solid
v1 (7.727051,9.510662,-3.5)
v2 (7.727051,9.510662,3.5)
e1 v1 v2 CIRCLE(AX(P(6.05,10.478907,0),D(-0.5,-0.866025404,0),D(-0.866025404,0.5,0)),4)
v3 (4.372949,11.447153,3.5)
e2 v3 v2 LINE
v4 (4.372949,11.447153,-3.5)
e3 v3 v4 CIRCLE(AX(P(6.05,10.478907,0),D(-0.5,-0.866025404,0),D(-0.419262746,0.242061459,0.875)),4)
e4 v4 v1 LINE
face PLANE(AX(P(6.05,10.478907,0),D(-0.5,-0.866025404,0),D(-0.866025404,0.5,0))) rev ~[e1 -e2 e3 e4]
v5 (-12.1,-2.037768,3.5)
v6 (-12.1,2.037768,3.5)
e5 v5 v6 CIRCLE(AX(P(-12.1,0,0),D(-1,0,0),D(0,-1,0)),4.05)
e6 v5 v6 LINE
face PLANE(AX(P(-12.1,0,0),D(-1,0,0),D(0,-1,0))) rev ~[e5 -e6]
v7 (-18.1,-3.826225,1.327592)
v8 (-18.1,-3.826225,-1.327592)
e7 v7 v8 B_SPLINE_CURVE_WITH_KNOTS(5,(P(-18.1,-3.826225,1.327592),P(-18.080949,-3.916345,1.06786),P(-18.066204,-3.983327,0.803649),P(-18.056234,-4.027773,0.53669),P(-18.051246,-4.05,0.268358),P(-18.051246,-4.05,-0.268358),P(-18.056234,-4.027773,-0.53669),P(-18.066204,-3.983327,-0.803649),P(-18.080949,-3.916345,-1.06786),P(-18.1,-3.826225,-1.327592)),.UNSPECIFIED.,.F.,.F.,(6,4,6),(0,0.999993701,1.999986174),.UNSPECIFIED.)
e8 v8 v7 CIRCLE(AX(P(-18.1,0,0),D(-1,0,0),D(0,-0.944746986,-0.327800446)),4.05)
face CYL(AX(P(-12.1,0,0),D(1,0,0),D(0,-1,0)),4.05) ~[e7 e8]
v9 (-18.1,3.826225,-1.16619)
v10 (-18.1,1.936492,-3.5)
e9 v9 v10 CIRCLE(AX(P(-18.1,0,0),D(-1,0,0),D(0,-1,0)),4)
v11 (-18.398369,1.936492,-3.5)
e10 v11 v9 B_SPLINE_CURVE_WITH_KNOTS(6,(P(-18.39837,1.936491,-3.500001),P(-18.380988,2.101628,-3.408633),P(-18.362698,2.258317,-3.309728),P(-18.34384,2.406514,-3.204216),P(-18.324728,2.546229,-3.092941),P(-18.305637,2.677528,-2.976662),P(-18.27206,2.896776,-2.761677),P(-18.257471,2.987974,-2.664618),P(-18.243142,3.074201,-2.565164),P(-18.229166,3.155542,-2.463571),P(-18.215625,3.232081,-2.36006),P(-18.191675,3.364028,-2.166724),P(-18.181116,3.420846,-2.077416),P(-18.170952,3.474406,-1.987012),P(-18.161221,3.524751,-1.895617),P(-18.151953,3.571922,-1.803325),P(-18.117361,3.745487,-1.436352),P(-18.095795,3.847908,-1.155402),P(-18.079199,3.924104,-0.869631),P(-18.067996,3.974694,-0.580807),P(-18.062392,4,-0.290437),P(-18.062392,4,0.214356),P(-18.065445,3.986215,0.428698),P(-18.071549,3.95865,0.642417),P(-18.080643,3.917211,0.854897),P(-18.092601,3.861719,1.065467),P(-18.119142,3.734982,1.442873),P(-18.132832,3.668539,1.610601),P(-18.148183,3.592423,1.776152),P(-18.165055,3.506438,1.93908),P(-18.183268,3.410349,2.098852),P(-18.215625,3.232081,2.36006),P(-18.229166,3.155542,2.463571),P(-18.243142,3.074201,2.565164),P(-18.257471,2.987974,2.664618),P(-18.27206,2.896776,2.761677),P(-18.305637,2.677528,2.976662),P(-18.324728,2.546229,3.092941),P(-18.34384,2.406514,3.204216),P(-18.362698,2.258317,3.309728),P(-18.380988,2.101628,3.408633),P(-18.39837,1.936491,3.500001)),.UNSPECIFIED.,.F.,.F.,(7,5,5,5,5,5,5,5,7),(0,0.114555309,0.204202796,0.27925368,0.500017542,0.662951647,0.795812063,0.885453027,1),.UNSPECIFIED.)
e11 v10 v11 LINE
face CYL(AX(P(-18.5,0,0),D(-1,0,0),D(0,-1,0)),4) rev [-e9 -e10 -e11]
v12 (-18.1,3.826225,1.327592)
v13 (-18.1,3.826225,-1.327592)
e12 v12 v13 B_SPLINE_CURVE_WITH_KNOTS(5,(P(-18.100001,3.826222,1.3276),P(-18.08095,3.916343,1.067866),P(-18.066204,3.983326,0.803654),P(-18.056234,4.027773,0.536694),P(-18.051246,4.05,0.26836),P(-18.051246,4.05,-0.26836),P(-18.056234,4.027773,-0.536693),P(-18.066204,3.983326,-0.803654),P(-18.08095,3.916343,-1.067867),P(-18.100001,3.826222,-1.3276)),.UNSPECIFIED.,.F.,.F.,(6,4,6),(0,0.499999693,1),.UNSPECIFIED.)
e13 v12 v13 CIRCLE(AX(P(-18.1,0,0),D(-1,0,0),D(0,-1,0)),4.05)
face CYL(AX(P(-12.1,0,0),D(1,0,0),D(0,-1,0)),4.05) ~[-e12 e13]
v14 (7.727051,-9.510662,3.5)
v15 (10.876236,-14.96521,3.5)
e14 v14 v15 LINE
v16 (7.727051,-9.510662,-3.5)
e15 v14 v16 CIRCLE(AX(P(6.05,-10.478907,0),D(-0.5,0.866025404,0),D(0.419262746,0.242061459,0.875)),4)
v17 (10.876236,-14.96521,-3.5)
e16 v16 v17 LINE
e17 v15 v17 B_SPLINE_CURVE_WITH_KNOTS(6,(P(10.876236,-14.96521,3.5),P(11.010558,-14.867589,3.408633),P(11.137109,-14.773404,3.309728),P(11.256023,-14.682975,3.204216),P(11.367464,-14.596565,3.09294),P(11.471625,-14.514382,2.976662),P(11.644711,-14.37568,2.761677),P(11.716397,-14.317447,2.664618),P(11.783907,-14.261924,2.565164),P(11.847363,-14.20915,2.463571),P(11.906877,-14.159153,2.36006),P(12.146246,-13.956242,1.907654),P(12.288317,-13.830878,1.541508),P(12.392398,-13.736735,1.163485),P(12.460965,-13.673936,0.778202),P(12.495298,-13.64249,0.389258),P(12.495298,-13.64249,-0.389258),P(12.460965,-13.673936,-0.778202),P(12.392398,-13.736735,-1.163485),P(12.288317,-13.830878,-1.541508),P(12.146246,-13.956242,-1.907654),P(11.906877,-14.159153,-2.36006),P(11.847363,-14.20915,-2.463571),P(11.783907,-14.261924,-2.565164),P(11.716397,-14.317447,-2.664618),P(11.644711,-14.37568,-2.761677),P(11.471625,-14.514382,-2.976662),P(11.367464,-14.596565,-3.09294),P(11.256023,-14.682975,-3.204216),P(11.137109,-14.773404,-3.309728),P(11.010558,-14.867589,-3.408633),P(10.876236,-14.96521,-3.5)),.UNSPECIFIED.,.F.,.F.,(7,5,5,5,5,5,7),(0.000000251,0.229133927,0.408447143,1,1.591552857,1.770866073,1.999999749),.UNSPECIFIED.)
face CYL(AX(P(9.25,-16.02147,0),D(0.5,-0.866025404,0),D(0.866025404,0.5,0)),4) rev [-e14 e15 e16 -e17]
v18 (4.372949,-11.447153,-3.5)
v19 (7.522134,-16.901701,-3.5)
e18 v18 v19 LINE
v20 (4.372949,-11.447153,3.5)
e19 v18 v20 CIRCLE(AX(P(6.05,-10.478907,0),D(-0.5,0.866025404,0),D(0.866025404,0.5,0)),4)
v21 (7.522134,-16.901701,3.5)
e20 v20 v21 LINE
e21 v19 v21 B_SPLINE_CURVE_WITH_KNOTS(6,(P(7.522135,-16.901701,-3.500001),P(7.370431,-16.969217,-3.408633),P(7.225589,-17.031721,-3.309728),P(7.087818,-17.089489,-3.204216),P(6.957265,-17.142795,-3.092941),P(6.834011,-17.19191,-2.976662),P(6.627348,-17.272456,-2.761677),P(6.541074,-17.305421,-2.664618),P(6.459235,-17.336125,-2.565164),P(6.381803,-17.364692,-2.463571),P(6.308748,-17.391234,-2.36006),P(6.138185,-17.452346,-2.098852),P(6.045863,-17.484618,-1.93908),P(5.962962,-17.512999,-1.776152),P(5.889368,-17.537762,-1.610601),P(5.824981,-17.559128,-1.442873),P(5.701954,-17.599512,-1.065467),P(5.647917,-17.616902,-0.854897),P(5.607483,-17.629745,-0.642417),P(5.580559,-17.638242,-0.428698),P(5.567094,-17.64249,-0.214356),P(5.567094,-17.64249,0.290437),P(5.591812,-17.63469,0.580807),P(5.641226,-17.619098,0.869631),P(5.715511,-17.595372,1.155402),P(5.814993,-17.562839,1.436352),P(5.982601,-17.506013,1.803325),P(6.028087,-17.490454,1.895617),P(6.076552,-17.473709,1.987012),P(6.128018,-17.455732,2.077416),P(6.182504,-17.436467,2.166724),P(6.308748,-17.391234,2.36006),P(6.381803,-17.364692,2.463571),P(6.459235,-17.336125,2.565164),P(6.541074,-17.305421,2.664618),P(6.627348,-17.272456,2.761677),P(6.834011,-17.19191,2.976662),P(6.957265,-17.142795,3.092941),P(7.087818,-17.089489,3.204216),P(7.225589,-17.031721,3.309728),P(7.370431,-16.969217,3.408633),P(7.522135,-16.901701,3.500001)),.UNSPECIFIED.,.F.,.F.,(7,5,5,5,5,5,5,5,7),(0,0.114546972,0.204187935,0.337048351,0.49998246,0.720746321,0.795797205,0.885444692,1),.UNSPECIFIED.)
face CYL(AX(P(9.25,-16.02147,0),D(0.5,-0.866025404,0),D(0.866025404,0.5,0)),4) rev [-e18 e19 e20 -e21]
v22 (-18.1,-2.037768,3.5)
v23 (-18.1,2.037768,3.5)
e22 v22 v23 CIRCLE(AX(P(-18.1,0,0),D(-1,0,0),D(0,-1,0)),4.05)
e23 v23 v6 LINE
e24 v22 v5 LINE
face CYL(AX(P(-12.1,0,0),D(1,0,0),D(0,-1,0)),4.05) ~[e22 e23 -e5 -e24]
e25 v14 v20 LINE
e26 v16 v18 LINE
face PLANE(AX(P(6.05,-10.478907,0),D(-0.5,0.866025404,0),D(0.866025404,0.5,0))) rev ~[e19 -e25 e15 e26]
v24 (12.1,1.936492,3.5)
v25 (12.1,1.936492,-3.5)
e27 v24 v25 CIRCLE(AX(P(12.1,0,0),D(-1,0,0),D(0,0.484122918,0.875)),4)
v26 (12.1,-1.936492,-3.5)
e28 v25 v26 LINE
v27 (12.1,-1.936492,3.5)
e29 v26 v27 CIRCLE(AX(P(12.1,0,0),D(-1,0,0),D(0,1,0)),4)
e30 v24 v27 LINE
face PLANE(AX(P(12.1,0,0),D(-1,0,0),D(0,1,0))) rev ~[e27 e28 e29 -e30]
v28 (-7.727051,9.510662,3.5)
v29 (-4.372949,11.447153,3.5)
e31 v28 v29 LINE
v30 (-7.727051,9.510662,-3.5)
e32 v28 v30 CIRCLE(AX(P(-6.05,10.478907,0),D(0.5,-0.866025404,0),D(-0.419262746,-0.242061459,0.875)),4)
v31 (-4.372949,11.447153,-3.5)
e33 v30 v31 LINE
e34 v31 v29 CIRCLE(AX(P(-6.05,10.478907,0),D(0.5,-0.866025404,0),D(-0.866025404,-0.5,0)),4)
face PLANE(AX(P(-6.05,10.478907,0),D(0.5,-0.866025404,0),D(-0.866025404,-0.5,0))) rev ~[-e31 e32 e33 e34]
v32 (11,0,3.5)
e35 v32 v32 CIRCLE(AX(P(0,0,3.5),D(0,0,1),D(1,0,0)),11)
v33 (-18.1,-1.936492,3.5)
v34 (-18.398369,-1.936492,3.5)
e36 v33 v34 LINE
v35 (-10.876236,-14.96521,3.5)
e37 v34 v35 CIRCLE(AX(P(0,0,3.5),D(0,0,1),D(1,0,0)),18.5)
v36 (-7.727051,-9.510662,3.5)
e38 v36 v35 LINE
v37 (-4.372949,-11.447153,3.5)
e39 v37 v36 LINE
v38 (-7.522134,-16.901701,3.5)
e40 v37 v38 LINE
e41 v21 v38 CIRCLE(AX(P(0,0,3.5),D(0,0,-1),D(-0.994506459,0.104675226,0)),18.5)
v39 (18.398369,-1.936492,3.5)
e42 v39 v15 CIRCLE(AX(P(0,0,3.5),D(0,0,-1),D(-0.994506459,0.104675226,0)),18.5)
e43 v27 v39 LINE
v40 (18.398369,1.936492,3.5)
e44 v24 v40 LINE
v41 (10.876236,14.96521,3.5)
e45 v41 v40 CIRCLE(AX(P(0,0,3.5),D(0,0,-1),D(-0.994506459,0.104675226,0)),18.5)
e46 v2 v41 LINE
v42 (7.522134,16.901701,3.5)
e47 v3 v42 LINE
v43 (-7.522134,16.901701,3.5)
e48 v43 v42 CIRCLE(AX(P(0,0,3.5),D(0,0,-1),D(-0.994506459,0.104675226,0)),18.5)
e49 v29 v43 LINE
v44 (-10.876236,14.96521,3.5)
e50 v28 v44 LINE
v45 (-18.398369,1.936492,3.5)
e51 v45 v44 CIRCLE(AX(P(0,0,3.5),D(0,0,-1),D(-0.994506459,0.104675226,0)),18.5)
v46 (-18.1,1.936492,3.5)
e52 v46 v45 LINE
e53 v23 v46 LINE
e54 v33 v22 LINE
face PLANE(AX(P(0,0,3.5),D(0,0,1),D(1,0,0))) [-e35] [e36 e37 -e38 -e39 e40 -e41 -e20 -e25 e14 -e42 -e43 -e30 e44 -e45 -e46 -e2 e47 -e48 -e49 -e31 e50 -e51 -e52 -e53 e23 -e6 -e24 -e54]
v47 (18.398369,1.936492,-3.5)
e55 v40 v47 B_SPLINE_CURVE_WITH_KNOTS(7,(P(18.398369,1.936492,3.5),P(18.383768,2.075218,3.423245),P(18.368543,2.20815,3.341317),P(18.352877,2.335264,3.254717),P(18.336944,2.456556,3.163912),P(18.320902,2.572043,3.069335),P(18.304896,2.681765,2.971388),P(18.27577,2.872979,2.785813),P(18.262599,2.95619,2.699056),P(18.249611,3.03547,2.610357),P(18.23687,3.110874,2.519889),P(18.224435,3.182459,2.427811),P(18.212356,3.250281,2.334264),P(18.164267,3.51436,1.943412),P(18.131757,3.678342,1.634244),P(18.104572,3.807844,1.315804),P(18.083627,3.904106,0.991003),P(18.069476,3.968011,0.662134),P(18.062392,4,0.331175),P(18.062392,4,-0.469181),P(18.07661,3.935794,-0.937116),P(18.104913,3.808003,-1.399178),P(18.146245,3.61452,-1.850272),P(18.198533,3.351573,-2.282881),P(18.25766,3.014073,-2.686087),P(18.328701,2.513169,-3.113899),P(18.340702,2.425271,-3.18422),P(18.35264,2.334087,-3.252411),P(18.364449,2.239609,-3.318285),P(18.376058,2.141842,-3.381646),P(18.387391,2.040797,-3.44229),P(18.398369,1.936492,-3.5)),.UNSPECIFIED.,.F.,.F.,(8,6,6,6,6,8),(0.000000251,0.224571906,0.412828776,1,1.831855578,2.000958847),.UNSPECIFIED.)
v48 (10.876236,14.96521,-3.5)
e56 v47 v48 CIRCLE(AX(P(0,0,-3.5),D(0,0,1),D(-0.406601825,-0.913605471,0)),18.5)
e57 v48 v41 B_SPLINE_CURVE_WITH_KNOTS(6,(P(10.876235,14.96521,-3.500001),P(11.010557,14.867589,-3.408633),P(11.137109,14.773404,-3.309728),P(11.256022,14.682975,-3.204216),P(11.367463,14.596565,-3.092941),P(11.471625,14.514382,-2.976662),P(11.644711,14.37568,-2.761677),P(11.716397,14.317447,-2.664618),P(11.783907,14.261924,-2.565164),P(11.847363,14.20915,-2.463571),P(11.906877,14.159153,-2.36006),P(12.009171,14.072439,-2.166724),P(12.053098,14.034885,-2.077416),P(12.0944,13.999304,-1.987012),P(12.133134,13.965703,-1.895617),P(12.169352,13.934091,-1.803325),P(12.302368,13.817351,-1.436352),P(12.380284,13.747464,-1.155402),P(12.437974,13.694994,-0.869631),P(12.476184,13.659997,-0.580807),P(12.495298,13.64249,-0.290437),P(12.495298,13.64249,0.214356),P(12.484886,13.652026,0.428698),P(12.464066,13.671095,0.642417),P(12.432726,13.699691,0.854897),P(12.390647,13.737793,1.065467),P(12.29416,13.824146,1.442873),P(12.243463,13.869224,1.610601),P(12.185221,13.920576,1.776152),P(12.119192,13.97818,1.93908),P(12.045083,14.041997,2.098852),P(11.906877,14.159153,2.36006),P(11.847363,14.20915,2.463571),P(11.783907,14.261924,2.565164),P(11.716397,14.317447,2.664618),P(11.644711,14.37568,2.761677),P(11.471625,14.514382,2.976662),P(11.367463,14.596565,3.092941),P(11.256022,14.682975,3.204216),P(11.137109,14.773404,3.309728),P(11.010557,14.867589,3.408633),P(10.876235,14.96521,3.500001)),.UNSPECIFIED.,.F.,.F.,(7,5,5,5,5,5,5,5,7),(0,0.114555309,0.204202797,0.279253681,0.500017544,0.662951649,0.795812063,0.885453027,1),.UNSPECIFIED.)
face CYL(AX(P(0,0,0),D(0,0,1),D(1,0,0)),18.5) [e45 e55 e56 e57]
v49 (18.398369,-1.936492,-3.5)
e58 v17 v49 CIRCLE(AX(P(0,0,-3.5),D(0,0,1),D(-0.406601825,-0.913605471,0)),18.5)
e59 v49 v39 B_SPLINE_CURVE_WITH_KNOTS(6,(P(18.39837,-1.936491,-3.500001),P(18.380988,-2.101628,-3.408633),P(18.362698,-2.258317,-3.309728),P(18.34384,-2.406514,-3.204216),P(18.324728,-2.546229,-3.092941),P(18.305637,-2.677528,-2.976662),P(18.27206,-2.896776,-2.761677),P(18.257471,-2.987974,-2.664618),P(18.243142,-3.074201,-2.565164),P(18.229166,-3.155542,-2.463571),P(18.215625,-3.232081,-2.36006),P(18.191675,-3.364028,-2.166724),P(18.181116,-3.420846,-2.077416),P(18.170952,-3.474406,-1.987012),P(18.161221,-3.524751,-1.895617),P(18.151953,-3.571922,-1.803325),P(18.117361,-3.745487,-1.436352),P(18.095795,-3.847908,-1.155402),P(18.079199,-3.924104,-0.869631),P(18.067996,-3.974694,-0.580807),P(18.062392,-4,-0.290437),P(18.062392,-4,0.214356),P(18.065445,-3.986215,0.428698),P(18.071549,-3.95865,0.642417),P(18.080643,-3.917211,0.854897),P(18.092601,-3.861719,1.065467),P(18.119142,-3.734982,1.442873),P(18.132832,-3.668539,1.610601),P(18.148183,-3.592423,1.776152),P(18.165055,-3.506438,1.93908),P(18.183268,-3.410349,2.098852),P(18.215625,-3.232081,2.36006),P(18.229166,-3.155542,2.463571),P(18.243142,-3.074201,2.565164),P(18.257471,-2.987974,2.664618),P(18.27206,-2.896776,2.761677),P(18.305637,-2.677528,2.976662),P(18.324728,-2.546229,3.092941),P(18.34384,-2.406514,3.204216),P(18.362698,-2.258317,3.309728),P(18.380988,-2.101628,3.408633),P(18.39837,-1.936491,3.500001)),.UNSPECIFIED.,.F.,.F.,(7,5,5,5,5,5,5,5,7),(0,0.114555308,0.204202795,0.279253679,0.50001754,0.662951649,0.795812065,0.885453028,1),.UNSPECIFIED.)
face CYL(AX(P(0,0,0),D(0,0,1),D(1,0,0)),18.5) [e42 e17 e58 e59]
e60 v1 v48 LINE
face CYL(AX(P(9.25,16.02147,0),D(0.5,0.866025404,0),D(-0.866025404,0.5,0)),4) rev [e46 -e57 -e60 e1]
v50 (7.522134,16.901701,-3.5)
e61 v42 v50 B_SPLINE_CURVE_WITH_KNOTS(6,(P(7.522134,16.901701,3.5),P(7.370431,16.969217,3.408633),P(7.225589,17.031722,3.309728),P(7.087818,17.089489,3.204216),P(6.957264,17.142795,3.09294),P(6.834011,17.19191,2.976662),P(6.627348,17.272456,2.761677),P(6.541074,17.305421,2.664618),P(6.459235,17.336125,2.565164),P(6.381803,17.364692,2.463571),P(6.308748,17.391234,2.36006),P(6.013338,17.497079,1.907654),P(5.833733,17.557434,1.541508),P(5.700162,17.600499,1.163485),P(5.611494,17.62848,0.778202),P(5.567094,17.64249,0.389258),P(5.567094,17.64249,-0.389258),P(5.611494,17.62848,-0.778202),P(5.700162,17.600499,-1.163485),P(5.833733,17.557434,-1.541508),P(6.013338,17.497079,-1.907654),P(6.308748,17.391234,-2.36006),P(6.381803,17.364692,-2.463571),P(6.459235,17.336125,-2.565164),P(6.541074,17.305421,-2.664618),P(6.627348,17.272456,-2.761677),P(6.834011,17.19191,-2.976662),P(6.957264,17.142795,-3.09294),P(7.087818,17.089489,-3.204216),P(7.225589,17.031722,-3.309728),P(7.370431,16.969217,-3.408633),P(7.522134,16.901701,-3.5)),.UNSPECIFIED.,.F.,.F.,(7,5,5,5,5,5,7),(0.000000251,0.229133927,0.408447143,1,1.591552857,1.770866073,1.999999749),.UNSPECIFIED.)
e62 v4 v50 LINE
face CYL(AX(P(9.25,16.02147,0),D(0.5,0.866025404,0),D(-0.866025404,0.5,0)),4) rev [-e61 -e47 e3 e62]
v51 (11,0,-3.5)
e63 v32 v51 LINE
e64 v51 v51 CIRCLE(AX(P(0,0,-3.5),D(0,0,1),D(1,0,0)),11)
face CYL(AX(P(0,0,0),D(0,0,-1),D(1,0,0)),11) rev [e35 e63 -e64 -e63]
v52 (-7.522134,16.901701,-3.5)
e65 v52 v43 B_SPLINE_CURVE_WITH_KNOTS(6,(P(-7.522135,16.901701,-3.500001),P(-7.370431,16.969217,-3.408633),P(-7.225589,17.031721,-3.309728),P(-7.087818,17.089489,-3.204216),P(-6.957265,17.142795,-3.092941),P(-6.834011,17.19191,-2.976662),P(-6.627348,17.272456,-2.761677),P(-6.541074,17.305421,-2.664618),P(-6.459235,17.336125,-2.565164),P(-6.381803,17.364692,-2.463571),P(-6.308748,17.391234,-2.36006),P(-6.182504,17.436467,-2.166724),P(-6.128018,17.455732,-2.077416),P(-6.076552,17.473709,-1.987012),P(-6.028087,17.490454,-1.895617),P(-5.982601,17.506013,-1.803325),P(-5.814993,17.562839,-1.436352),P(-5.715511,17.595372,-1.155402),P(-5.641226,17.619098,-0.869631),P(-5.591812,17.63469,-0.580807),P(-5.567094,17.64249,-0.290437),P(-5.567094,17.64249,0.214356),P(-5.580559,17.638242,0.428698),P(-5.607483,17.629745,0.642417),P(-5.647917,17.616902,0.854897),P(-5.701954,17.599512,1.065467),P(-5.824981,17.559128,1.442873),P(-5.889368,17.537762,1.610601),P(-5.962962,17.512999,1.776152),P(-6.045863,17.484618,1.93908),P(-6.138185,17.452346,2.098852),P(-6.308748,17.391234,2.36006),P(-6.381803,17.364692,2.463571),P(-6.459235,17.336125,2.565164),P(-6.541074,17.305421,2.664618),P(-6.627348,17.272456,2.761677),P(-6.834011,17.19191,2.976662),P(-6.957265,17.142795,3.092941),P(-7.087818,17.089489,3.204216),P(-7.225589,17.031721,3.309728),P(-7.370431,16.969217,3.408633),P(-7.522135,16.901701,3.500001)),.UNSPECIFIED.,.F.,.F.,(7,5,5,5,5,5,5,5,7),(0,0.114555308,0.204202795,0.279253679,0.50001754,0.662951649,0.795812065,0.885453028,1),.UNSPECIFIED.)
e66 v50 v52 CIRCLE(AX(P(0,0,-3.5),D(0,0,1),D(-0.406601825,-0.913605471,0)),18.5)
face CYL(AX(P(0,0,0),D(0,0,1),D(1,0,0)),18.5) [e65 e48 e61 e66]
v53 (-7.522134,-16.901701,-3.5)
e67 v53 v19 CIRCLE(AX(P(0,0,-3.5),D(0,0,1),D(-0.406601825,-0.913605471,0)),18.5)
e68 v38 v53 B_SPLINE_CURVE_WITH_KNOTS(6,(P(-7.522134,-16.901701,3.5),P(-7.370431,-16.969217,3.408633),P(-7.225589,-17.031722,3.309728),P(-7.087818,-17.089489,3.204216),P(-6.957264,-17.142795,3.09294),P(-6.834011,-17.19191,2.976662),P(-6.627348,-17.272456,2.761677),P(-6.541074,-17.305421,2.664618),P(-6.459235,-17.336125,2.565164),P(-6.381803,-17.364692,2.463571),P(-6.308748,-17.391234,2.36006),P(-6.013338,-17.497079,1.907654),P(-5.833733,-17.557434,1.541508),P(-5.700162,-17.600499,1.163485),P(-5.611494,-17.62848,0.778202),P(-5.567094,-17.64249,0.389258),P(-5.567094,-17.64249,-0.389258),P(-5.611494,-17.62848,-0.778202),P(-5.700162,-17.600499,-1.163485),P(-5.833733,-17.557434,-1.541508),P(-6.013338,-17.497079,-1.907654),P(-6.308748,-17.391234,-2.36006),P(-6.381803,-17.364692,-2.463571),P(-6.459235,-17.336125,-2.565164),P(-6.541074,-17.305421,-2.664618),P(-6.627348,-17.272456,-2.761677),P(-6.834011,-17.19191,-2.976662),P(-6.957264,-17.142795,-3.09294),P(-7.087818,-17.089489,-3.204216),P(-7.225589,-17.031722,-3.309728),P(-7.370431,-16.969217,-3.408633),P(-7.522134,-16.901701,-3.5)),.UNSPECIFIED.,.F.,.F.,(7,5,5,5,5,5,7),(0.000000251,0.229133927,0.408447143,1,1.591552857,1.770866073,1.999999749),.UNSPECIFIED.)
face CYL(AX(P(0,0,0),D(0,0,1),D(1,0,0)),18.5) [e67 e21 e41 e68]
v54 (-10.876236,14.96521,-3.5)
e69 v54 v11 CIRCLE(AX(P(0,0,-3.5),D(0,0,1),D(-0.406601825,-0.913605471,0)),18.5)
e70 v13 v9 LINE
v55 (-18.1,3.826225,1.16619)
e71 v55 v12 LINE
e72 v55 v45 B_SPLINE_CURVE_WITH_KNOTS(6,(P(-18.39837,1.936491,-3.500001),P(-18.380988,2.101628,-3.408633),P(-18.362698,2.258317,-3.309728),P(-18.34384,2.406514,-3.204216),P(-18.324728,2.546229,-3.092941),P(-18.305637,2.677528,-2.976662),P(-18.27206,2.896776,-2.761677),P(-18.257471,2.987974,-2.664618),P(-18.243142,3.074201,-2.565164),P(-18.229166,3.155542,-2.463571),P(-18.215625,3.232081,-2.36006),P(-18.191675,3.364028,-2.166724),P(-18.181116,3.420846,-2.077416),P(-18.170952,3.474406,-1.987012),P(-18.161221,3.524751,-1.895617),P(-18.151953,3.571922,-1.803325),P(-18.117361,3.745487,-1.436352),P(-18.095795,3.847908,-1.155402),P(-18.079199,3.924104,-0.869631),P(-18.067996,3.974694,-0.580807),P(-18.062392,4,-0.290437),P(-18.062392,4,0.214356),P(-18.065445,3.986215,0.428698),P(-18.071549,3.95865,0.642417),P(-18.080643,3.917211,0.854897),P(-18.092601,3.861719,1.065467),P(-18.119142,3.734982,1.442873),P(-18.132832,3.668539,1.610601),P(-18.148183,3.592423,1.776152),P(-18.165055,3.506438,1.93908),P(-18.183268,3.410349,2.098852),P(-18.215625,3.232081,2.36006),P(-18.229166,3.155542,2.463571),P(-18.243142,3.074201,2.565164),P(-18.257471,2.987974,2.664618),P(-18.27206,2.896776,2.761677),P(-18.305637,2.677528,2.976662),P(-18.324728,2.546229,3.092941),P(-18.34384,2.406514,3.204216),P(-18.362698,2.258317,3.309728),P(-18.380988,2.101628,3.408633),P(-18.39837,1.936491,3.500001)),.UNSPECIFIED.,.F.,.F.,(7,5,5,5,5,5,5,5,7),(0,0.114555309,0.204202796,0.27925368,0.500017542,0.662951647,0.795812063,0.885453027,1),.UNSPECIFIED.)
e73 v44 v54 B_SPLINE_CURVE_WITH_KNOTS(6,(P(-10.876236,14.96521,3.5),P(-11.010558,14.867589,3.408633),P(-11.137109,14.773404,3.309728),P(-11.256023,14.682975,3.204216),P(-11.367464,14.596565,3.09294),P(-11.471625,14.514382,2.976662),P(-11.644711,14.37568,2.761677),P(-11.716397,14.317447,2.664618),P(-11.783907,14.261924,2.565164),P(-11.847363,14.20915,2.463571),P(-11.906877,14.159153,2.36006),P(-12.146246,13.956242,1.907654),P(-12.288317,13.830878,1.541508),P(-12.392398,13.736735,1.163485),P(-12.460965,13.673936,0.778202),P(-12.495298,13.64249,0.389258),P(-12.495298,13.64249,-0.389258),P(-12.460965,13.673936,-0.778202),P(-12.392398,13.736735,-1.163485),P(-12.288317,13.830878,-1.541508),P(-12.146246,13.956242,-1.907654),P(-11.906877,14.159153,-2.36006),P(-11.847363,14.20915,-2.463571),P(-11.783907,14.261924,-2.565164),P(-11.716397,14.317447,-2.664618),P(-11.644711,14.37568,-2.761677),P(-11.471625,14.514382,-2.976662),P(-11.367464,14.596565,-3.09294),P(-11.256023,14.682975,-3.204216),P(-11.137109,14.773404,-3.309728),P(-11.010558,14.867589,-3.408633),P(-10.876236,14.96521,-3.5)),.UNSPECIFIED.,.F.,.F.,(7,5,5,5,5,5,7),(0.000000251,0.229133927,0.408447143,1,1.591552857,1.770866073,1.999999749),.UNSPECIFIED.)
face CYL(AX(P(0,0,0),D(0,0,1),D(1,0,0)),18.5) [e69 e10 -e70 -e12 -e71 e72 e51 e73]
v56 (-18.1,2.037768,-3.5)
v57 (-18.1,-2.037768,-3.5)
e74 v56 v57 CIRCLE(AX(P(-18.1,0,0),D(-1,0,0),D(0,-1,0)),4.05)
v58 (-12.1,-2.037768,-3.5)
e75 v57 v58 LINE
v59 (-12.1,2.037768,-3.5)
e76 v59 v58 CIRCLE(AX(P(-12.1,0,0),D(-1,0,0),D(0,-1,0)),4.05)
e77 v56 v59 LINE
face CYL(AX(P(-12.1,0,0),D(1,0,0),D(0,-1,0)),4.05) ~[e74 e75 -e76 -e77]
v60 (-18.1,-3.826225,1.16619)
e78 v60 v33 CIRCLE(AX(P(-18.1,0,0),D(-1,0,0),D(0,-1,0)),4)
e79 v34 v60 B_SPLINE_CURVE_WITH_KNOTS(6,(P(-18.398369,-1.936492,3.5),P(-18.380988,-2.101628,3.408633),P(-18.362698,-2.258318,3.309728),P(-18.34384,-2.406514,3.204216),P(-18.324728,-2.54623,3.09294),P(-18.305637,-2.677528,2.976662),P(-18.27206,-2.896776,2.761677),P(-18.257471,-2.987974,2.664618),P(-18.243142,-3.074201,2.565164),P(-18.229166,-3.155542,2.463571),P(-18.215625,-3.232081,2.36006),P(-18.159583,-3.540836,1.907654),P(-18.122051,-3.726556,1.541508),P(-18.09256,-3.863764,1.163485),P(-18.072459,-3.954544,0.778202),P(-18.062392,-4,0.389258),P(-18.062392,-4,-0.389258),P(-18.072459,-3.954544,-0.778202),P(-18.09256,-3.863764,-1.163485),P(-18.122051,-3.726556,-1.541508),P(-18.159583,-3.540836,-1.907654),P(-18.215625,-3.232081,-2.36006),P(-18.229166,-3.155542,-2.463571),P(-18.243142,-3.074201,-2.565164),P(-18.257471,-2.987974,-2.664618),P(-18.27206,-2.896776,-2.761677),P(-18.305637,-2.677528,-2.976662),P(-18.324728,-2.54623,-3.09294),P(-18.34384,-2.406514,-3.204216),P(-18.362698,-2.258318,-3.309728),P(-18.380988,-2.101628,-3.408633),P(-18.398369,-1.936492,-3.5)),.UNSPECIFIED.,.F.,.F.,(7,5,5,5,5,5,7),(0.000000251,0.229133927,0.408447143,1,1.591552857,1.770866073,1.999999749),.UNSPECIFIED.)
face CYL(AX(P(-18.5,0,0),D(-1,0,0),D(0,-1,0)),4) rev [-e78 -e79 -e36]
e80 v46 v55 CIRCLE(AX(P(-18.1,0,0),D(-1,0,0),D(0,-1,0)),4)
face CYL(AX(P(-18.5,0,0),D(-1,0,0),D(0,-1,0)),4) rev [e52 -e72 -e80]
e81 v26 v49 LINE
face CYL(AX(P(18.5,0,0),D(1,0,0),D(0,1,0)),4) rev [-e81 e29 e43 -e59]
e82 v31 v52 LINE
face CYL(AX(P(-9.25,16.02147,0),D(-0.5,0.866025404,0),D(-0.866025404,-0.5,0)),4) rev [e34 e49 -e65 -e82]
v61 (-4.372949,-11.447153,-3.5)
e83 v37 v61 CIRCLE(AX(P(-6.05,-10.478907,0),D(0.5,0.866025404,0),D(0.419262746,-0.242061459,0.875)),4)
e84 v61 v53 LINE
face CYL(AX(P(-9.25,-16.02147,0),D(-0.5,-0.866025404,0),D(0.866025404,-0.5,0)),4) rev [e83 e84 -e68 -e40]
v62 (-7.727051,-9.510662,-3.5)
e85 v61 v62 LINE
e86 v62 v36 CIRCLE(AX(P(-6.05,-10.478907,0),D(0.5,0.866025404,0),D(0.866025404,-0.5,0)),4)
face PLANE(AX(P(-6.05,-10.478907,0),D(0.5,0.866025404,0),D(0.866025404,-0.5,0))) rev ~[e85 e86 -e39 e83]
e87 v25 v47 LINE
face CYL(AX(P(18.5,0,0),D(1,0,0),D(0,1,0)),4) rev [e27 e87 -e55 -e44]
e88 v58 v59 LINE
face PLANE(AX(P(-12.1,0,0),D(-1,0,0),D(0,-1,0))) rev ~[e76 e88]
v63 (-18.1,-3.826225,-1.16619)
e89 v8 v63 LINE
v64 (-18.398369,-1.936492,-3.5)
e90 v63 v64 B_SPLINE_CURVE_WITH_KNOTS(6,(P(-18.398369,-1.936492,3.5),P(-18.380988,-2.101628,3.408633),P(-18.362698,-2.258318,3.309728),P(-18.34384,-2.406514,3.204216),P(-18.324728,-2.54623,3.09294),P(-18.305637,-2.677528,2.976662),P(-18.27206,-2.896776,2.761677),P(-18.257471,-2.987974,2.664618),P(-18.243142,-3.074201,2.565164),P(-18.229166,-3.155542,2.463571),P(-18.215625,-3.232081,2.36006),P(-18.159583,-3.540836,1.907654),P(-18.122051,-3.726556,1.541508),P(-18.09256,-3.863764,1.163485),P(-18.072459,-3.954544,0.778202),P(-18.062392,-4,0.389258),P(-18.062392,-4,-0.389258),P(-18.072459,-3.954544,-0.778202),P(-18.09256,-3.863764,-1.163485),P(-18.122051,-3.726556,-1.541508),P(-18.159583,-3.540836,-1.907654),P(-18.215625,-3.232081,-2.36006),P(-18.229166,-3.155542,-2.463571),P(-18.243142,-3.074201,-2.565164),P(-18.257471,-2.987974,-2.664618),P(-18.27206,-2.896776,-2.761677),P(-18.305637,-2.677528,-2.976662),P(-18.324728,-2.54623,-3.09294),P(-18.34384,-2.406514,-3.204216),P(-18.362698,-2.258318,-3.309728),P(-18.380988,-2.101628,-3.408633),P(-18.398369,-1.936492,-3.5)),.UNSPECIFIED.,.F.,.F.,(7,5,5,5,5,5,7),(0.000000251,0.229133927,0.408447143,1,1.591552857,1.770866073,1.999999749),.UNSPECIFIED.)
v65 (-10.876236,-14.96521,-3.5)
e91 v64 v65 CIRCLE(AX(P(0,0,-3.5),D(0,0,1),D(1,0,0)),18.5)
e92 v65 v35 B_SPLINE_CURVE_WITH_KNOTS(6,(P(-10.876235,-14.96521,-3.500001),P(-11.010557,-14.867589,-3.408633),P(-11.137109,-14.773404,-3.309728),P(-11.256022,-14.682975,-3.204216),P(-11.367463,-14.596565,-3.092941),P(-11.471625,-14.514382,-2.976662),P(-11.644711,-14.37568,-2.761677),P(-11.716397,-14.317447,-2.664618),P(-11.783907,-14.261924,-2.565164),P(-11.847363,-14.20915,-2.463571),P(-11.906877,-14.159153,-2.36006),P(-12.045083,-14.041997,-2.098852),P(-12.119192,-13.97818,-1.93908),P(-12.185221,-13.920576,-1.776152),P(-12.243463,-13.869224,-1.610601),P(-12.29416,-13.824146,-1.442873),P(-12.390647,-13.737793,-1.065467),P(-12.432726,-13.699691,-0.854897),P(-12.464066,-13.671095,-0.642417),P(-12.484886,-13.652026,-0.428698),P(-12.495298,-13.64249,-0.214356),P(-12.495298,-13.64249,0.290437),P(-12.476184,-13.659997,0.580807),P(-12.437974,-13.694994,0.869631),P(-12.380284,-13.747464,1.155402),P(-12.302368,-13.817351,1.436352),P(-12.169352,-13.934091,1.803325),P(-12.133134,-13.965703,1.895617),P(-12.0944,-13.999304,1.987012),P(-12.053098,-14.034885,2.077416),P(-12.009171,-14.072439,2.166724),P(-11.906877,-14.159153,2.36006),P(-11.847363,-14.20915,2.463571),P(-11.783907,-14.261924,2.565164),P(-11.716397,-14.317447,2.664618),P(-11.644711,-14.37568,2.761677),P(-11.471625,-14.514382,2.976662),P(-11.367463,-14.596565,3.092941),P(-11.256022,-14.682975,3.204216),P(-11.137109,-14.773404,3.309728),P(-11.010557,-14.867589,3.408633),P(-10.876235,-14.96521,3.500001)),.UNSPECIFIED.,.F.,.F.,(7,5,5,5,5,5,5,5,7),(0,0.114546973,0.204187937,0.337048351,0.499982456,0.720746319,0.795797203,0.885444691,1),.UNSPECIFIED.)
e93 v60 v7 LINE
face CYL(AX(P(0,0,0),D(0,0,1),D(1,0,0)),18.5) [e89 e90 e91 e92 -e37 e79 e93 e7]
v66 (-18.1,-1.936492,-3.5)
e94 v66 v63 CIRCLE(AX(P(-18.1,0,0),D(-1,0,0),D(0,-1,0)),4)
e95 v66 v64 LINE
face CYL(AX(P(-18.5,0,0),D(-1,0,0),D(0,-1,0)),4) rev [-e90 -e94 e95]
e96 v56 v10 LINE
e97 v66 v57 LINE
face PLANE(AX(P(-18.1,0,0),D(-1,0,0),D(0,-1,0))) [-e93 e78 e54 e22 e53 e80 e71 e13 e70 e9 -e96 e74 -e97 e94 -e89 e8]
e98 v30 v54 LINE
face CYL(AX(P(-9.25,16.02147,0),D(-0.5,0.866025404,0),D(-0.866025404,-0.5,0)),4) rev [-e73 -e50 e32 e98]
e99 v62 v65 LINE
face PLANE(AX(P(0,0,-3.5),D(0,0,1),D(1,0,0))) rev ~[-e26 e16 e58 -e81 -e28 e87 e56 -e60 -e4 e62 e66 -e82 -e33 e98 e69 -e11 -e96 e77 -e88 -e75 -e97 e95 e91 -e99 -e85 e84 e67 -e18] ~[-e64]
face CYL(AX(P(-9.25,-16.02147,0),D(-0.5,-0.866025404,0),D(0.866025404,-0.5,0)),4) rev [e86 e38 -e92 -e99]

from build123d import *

# Parameters (mm, degrees)
SKETCH1_R           = 18.5
SKETCH1_R_2         = 11
BOSS_EXTRUDE1_DEPTH = 3.5
SKETCH2_R           = 4
CUT_EXTRUDE3_DEPTH  = 6.4
CIRPATTERN1_COUNT   = 6
SKETCH3_R           = 4.05
BOSS_EXTRUDE2_DEPTH = 6


with BuildPart() as part:
    # Sketch1 → Boss-Extrude1 (new, symmetric)
    with BuildSketch(Plane.XY):
        Circle(SKETCH1_R)
        Circle(SKETCH1_R_2, mode=Mode.SUBTRACT)
    extrude(amount=BOSS_EXTRUDE1_DEPTH, both=True)

    # Sketch2 → Cut-Extrude3 (cut)
    with BuildSketch(Plane(origin=(-18.5, -17.193061184, 0), x_dir=(0, -1, 0), z_dir=(1, 0, 0))):
        with Locations((-17.193061184, 0)):
            Circle(SKETCH2_R)
    cut_extrude3 = extrude(amount=CUT_EXTRUDE3_DEPTH, mode=Mode.SUBTRACT)

    # CirPattern1: Cut-Extrude3 ×6 about axis
    cirpattern1_axis = Axis((0, 0, 3.5), (0, 0, 1))
    for i in range(1, CIRPATTERN1_COUNT):
        add(cut_extrude3.rotate(cirpattern1_axis, i * 360 / CIRPATTERN1_COUNT), mode=Mode.SUBTRACT)

    # Sketch3 → Boss-Extrude2 (add)
    with BuildSketch(Plane(origin=(-12.1, 0, 0), x_dir=(0, -1, 0), z_dir=(-1, 0, 0))):
        Circle(SKETCH3_R)
    extrude(amount=BOSS_EXTRUDE2_DEPTH)


solid = part.part
